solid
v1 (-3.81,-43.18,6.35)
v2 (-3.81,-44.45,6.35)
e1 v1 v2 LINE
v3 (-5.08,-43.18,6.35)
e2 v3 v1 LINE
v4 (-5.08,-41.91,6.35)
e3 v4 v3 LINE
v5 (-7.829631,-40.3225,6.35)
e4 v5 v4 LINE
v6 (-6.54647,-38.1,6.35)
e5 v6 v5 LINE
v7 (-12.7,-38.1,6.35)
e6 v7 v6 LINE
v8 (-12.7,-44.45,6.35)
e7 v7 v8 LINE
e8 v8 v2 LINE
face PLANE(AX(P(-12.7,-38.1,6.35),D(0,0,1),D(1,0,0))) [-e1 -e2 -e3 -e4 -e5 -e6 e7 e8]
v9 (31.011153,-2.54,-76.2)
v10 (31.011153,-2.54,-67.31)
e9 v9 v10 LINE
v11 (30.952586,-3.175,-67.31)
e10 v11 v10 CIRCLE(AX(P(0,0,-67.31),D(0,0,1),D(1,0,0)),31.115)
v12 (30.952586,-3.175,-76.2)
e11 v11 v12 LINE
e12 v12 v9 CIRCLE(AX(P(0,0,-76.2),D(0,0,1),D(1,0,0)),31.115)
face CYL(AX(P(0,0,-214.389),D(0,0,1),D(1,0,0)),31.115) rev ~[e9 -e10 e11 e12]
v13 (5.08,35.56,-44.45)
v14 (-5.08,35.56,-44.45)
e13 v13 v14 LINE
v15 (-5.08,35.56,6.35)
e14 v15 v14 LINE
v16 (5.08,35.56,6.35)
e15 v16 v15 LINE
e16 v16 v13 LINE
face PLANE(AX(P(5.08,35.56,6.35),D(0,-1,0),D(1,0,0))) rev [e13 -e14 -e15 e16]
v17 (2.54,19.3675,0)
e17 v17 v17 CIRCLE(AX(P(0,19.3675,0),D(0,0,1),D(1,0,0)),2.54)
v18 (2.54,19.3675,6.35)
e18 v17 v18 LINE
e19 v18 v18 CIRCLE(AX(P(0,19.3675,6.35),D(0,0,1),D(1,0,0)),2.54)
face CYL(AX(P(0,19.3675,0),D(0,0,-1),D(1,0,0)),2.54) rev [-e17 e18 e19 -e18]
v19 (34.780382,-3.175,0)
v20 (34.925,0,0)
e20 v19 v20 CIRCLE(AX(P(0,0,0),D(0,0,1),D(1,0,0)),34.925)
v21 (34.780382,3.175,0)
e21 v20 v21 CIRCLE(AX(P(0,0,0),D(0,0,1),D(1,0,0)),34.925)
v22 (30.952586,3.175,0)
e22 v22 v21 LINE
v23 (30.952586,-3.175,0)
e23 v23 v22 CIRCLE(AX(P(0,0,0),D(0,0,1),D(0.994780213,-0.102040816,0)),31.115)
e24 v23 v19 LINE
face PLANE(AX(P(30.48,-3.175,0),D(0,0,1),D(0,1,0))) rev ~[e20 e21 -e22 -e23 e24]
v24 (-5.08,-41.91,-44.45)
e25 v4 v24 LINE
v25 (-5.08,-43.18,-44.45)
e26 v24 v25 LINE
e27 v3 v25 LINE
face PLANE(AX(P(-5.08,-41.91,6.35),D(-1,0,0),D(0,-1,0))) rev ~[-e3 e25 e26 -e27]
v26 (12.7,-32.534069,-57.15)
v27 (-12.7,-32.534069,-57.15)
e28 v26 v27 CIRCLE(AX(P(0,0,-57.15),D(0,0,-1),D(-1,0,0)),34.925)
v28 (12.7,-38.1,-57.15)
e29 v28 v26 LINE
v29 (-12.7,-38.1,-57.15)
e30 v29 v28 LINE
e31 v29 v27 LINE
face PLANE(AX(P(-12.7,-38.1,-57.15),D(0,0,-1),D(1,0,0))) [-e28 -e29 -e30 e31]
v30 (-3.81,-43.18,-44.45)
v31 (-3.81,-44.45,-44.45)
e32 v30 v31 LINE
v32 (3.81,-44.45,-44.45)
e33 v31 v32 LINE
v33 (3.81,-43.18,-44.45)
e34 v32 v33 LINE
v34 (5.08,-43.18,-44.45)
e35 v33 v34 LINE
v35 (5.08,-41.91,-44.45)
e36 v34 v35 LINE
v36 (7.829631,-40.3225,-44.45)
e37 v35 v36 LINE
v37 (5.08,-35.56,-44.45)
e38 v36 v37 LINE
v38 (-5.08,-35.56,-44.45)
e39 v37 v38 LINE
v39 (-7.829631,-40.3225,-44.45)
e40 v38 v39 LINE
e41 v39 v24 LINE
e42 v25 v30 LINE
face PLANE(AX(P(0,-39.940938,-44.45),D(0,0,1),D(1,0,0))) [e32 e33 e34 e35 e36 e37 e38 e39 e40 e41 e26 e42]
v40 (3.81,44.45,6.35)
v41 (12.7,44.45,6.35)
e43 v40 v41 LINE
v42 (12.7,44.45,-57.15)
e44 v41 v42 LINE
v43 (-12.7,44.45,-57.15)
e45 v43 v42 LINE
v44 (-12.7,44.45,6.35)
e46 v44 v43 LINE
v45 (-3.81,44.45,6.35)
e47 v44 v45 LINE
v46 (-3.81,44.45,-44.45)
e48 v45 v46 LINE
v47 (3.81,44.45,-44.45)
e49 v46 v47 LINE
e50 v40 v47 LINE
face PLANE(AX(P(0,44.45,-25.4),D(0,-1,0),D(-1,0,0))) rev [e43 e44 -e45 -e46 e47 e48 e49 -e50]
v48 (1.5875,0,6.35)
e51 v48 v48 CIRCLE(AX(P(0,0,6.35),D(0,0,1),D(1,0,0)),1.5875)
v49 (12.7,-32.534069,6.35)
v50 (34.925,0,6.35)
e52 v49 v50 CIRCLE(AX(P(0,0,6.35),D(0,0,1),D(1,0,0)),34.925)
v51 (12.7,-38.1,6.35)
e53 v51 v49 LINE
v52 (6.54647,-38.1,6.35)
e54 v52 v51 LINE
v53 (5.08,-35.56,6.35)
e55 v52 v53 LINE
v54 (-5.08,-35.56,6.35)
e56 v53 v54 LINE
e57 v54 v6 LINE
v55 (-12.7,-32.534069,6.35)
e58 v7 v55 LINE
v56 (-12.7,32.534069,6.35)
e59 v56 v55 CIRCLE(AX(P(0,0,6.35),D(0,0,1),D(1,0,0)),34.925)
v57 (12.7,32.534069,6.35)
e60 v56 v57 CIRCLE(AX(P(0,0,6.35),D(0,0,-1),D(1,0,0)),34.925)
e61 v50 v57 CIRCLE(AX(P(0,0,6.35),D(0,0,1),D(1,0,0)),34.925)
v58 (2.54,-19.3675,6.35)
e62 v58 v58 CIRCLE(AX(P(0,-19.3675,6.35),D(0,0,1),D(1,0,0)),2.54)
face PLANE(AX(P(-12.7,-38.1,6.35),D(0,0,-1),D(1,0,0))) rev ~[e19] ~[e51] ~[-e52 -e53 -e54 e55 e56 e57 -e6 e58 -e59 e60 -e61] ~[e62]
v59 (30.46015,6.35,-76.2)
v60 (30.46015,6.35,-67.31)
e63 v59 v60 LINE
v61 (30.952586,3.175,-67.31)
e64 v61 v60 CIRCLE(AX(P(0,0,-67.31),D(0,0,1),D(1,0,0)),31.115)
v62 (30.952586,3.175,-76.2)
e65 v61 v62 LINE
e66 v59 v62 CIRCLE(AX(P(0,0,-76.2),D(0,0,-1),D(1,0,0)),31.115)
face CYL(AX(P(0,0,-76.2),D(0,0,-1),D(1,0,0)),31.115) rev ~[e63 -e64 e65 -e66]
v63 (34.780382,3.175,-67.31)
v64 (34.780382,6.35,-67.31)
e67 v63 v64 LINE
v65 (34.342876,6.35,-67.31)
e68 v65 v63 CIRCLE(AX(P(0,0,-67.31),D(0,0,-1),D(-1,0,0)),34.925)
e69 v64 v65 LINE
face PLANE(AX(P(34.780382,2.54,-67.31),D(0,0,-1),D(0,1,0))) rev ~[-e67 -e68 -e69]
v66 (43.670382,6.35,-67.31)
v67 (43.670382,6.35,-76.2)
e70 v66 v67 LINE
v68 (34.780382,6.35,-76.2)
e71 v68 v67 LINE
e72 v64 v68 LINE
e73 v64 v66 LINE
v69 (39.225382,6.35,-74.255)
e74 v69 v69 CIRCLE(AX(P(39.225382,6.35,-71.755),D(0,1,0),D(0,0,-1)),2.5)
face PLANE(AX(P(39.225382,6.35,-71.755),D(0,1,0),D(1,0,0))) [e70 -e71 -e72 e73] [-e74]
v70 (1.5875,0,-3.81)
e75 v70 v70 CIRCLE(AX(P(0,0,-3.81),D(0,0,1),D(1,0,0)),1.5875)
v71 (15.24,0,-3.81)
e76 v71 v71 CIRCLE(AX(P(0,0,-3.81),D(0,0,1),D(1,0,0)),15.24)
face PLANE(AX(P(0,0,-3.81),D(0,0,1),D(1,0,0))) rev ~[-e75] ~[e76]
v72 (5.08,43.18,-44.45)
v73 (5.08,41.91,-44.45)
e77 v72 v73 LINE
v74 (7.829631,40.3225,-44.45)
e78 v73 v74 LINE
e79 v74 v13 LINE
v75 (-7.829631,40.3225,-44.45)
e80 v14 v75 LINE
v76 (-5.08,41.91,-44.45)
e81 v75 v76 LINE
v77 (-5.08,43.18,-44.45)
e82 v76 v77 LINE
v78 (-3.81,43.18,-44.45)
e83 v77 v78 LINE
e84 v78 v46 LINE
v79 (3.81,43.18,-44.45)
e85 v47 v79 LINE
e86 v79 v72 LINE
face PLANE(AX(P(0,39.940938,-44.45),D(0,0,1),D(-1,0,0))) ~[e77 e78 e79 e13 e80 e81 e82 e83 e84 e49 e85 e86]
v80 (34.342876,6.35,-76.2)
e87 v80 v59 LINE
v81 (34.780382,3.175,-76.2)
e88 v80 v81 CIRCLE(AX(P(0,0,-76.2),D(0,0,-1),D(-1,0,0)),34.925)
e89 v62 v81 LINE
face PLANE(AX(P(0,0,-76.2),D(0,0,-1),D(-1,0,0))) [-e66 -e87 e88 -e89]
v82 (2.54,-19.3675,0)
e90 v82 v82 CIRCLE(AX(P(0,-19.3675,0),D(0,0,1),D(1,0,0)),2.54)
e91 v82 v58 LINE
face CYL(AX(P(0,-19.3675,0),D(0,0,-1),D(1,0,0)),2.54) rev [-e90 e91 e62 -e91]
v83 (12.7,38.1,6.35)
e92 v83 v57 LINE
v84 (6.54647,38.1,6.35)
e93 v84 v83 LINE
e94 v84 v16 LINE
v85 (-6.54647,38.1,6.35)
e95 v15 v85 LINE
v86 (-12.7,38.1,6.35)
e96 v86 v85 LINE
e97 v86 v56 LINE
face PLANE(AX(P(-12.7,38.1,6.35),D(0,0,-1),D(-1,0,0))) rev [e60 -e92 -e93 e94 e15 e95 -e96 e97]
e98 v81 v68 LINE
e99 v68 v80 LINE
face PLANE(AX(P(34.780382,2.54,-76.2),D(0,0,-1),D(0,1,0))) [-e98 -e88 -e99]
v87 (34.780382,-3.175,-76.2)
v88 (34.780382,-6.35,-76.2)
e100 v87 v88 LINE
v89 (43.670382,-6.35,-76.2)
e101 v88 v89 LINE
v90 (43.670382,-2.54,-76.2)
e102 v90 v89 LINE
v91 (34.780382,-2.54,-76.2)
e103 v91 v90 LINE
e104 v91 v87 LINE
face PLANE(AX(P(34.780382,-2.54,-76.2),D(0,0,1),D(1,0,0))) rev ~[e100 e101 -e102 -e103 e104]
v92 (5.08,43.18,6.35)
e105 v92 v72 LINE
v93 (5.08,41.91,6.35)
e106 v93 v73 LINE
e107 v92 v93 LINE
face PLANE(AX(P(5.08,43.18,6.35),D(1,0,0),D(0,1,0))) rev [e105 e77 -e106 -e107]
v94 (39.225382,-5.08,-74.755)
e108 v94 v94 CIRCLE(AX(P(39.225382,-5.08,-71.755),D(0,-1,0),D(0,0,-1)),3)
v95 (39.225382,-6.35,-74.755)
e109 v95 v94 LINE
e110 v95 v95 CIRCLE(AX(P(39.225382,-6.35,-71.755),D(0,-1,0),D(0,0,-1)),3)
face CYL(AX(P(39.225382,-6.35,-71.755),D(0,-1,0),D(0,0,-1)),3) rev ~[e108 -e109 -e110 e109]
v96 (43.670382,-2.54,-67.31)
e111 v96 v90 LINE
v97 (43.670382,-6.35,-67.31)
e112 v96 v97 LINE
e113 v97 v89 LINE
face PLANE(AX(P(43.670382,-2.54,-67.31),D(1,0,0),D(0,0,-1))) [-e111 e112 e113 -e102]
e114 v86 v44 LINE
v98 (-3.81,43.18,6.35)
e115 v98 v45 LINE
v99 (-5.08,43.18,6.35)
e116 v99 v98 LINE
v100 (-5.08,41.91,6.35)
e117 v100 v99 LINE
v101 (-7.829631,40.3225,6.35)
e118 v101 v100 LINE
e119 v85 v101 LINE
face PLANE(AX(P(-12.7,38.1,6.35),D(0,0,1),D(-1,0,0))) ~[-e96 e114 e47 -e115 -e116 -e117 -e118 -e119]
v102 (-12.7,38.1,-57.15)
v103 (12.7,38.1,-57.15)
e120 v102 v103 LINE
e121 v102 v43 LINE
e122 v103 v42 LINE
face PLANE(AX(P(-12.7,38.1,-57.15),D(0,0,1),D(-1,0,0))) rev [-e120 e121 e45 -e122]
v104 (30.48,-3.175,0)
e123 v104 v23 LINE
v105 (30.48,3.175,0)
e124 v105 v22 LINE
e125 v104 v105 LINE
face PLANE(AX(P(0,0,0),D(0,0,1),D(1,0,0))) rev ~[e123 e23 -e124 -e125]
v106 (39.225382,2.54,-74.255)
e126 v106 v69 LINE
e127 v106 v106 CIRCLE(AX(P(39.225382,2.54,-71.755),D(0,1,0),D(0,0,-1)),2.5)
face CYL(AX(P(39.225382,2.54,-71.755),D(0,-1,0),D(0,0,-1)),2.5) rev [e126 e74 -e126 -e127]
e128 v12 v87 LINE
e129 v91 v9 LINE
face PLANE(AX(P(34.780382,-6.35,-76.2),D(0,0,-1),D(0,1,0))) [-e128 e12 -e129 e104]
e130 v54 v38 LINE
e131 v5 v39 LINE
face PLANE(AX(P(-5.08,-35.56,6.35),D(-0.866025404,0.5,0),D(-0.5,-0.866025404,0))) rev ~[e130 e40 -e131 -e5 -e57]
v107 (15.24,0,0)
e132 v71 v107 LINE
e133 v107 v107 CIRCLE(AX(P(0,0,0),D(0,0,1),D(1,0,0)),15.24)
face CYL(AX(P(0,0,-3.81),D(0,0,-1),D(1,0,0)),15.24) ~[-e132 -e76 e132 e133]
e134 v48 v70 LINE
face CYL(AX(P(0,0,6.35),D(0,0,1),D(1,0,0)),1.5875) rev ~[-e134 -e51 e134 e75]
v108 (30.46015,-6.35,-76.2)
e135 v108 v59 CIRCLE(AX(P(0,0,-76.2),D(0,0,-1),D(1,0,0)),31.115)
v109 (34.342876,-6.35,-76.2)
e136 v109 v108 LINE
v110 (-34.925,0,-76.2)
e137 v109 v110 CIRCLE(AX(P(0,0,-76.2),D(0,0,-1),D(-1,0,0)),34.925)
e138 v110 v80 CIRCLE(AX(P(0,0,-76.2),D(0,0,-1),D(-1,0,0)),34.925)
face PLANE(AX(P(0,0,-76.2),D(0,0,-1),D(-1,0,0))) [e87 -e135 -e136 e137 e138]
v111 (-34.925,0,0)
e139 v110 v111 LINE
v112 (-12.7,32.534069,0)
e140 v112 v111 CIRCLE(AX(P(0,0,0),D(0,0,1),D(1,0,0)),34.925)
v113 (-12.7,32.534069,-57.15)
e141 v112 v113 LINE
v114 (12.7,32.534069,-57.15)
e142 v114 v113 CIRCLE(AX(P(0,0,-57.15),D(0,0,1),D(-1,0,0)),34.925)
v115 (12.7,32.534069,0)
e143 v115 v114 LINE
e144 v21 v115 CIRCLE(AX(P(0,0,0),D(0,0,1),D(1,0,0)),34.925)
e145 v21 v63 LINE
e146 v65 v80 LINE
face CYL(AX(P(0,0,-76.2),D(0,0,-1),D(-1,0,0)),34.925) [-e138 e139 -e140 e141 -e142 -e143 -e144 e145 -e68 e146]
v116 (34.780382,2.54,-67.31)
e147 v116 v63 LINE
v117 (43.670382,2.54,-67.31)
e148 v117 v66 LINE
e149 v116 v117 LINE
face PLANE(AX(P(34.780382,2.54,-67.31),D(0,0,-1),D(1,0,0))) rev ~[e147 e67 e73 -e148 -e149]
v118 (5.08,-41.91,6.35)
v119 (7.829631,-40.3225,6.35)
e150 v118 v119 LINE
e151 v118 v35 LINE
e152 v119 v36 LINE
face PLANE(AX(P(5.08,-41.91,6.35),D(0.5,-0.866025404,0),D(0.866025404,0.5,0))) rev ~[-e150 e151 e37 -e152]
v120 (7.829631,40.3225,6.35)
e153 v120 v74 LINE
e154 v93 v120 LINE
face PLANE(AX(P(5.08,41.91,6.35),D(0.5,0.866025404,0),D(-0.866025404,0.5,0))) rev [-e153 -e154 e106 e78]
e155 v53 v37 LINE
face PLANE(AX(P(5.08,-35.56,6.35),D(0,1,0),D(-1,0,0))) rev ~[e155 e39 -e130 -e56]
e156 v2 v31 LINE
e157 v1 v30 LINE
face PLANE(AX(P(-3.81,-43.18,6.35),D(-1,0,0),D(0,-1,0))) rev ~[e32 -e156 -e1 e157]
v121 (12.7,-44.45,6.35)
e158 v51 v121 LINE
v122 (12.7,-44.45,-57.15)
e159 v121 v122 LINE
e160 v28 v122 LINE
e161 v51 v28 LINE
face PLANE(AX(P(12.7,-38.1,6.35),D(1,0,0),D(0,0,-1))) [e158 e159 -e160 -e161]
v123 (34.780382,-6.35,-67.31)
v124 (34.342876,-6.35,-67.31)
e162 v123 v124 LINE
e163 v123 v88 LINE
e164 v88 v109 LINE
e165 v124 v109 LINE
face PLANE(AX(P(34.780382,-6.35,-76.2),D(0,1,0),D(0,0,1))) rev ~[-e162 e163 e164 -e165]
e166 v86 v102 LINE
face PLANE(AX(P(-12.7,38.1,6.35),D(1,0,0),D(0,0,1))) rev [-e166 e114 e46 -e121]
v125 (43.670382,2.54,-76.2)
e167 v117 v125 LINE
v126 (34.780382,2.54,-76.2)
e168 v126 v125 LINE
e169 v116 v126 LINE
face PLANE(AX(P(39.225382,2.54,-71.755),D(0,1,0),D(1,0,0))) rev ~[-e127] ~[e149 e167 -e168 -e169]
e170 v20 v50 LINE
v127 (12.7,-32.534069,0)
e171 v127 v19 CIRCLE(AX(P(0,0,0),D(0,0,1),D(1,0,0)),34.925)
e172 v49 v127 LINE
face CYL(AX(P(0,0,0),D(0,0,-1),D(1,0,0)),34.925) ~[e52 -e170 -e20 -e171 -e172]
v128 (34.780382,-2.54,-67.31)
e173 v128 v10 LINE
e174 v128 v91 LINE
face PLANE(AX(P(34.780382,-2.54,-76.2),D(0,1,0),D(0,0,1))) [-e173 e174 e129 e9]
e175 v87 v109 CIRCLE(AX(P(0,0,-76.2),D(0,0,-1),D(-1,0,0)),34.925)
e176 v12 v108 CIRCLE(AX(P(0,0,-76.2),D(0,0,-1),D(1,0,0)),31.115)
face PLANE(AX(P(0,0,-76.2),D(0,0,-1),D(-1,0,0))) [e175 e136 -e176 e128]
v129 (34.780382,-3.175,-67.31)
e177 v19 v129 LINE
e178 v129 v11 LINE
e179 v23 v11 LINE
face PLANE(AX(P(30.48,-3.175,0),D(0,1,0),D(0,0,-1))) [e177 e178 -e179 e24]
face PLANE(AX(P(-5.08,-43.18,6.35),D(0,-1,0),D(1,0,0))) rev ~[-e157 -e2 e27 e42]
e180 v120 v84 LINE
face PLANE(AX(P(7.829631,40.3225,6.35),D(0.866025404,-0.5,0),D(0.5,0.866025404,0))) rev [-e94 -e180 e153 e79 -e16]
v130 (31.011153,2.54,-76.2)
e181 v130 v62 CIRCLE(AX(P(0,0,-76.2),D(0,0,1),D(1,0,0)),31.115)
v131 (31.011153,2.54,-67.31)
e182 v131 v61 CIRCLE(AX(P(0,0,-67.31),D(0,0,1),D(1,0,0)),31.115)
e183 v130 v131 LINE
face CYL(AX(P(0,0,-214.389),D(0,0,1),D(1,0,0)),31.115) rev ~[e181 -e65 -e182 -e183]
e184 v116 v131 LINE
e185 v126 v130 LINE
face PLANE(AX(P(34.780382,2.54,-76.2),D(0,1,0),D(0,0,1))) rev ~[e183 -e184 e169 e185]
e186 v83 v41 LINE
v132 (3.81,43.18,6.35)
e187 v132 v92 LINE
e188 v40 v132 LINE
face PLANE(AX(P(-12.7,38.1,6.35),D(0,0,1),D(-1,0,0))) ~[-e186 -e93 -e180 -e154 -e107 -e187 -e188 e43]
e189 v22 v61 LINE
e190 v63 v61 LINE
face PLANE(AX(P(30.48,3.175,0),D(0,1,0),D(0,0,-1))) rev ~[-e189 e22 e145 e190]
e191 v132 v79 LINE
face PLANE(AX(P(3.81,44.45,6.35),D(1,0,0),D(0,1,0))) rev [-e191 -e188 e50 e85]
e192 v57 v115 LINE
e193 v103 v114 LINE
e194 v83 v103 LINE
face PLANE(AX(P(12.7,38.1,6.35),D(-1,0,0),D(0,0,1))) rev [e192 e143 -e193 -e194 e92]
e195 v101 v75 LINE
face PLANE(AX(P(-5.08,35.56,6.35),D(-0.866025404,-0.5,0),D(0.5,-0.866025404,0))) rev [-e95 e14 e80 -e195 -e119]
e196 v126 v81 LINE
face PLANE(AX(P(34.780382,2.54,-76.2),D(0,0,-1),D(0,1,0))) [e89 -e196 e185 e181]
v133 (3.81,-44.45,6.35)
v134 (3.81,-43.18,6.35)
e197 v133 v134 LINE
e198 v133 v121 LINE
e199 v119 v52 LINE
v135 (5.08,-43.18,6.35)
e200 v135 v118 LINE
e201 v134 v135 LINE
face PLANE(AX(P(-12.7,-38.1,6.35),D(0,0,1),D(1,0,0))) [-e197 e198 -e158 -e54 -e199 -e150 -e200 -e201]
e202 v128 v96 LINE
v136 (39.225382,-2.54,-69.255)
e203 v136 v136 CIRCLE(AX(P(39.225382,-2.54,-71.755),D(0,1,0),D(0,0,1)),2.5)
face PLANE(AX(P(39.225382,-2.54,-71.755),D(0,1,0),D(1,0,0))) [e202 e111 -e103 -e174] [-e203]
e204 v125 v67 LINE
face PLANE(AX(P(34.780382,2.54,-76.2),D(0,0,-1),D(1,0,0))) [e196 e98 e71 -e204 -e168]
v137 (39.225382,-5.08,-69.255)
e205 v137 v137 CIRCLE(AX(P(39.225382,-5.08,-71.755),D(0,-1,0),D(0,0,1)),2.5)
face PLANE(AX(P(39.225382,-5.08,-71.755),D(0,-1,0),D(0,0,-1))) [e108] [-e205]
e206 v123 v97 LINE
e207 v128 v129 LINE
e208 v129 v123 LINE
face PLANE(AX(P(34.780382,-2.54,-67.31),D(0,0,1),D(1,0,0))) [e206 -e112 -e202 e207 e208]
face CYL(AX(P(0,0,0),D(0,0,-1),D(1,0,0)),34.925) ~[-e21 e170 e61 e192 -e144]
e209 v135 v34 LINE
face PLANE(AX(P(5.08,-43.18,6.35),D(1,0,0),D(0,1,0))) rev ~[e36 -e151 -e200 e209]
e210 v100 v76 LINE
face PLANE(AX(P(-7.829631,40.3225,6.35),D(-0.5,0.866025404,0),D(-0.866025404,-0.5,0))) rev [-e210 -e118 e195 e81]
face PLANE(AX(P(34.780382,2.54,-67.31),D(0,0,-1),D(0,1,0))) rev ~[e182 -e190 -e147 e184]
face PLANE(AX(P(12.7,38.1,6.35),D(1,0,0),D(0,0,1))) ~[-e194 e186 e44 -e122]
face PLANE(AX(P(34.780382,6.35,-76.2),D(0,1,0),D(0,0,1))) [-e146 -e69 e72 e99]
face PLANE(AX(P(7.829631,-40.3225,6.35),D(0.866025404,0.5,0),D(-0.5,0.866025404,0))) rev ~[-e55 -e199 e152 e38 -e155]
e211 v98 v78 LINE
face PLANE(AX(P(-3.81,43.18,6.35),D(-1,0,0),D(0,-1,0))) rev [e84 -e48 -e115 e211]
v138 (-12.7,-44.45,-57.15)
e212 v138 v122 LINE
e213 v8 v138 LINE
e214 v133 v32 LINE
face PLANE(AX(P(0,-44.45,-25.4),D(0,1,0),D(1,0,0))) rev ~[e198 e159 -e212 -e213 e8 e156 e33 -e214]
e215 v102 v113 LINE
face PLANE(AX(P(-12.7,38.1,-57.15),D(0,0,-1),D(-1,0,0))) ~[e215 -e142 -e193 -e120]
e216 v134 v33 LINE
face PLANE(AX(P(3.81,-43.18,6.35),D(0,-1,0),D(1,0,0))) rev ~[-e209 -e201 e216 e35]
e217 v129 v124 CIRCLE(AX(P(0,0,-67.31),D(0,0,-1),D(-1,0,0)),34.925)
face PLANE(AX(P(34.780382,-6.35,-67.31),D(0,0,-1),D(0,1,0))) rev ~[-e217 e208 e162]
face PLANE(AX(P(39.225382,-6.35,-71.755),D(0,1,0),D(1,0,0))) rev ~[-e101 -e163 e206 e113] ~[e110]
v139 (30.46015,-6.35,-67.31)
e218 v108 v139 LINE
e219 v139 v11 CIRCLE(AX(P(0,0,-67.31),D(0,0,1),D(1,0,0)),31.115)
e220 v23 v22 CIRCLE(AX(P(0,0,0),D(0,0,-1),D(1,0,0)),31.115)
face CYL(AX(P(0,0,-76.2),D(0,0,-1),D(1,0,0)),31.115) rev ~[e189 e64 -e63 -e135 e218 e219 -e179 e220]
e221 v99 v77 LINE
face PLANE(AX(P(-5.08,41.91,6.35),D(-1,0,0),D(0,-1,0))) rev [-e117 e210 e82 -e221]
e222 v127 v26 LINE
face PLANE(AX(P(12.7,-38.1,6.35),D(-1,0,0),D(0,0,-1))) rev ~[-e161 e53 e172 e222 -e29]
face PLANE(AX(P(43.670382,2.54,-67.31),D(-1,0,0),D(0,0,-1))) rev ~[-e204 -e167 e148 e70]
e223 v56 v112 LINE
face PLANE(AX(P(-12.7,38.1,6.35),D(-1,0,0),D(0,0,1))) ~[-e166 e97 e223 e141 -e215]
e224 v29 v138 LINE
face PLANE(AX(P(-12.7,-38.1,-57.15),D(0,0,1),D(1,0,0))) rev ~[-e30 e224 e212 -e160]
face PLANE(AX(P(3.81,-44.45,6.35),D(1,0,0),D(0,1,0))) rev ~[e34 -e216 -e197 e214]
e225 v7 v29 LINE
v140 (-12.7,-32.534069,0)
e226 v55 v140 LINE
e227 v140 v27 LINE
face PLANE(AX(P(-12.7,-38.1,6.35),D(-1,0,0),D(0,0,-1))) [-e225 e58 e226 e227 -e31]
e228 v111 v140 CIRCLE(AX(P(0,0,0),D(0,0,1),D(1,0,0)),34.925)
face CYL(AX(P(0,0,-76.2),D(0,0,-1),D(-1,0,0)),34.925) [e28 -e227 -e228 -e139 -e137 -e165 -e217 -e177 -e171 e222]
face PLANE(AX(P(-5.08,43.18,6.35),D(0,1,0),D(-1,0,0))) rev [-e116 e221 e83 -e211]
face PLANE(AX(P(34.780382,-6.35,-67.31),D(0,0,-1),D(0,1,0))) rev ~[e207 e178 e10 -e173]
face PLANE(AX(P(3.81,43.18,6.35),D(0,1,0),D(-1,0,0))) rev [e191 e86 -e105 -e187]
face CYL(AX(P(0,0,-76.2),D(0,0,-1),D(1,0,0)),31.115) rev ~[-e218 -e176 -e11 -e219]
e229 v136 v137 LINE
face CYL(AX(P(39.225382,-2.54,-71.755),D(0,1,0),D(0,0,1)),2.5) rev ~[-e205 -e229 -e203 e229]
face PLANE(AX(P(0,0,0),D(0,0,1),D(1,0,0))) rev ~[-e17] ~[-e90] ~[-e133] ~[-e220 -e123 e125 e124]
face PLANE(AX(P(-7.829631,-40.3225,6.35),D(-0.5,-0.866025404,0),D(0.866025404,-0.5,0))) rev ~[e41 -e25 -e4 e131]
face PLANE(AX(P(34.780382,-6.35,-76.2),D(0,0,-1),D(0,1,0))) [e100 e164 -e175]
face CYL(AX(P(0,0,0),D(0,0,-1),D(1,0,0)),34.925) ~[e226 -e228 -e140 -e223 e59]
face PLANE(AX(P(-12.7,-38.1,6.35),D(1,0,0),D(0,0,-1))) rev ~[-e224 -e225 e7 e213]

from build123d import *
from build123d.topology import SkipClean

# Parameters (mm, degrees)
SKETCH1_R                       = 34.925
SKETCH1_R_2                     = 15.24
SKETCH1_R_3                     = 2.54
BOSS_EXTRUDE1_DEPTH             = 6.35
BOSS_EXTRUDE2_DEPTH             = 6.35
BOSS_EXTRUDE2_DEPTH_BACK        = 3.81
SKETCH1_2_R                     = 15.24
SKETCH3_R                       = 1.5875
CUT_EXTRUDE2_DEPTH              = 51.425557508
BOSS_EXTRUDE3_START             = 76.2
SKETCH4_R                       = 34.925
SKETCH4_R_2                     = 31.115
BOSS_EXTRUDE3_DEPTH             = 76.2
CUT_EXTRUDE3_START              = 30.48
SKETCH5_W                       = 76.2
SKETCH5_H                       = 6.35
CUT_EXTRUDE3_DEPTH              = 61.327220253
BOSS_EXTRUDE4_START             = 2.54
SKETCH6_W                       = 8.89
SKETCH6_H                       = 8.89
SKETCH6_R                       = 2.5
BOSS_EXTRUDE4_DEPTH             = 3.81
BOSS_EXTRUDE5_START             = -2.54
SKETCH6_2_W                     = 8.89
SKETCH6_2_H                     = 8.89
SKETCH6_2_R                     = 2.5
BOSS_EXTRUDE5_DEPTH             = 3.81
BOSS_EXTRUDE6_REACH             = 111.019
BOSS_EXTRUDE6_END_RADIUS        = 31.115
SKETCH8_W                       = 8.89
SKETCH8_H                       = 3.81
SKETCH9_R                       = 3
SKETCH9_R_2                     = 2.5
CUT_EXTRUDE4_DEPTH              = 1.27
BOSS_EXTRUDE7_REACH             = 116.22
SKETCH12_W                      = 25.4
SKETCH12_H                      = 63.5
BOSS_EXTRUDE7_DIRECTION_2_DEPTH = 6.35
CUT_EXTRUDE5_DEPTH              = 50.8


with BuildPart() as part:
    # Sketch1 → Boss-Extrude1 (new body)
    with BuildSketch(Plane.XY):
        Circle(SKETCH1_R)
        Circle(SKETCH1_R_2, mode=Mode.SUBTRACT)
        with Locations((0, 19.3675)):
            Circle(SKETCH1_R_3, mode=Mode.SUBTRACT)
        with Locations((0, -19.3675)):
            Circle(SKETCH1_R_3, mode=Mode.SUBTRACT)
    extrude(amount=BOSS_EXTRUDE1_DEPTH)

    # Sketch1<2> → Boss-Extrude2 (add, two sides: drawn at the far end of the back side and taken through both)
    with BuildSketch(Plane.XY.offset(-BOSS_EXTRUDE2_DEPTH_BACK)):
        Circle(SKETCH1_2_R)
    extrude(amount=BOSS_EXTRUDE2_DEPTH + BOSS_EXTRUDE2_DEPTH_BACK)

    # Sketch3 → Cut-Extrude2 (cut, through all)
    with BuildSketch(Plane.XY.offset(6.35)):
        Circle(SKETCH3_R)
    extrude(amount=-CUT_EXTRUDE2_DEPTH, mode=Mode.SUBTRACT)

    # Sketch4 → Boss-Extrude3 (add)
    with BuildSketch(Plane(origin=(0, 0, 0), x_dir=(-1, 0, 0), z_dir=(0, 0, -1)).offset(BOSS_EXTRUDE3_START)):
        Circle(SKETCH4_R)
        with Locations(Location((0, 0, 0), (0, 0, 180))):
            Circle(SKETCH4_R_2, mode=Mode.SUBTRACT)
    extrude(amount=-BOSS_EXTRUDE3_DEPTH)

    # Sketch5 → Cut-Extrude3 (cut, through all)
    with SkipClean():  # the faces are left unmerged after this step: merging them gives an invalid solid
        with BuildSketch(Plane(origin=(0, 0, 0), x_dir=(0, 0, -1), z_dir=(1, 0, 0)).offset(CUT_EXTRUDE3_START)):
            with Locations((38.1, 0)):
                Rectangle(SKETCH5_W, SKETCH5_H)
        extrude(amount=CUT_EXTRUDE3_DEPTH, mode=Mode.SUBTRACT)



with BuildPart() as body_2:
    # Sketch6 → Boss-Extrude4 (new body)
    with BuildSketch(Plane(origin=(0, 0, 0), x_dir=(1, 0, 0), z_dir=(0, 1, 0)).offset(BOSS_EXTRUDE4_START)):
        with Locations((39.225382402, 71.755)):
            Rectangle(SKETCH6_W, SKETCH6_H)
        with Locations(Location((39.225382402, 71.755, 0), (0, 0, 90))):
            Circle(SKETCH6_R, mode=Mode.SUBTRACT)
    extrude(amount=BOSS_EXTRUDE4_DEPTH)


with BuildPart() as body_3:
    # Sketch6<2> → Boss-Extrude5 (new body)
    with BuildSketch(Plane(origin=(0, 0, 0), x_dir=(1, 0, 0), z_dir=(0, 1, 0)).offset(BOSS_EXTRUDE5_START)):
        with Locations((39.225382402, 71.755)):
            Rectangle(SKETCH6_2_W, SKETCH6_2_H)
        with Locations(Location((39.225382402, 71.755, 0), (0, 0, 270))):
            Circle(SKETCH6_2_R, mode=Mode.SUBTRACT)
    extrude(amount=-BOSS_EXTRUDE5_DEPTH)


with BuildPart() as part_1:
    with SkipClean():  # the faces are left unmerged after this step: merging them gives an invalid solid
        add(part.part)

        add(body_2.part)  # Boss-Extrude6 merges body 2

        add(body_3.part)  # Boss-Extrude6 merges body 3
        # Boss-Extrude6: up to this cylinder (the profile starts outside it)
        boss_extrude6_end = Plane(origin=(0, 0, -71.755), z_dir=(0, 0, 1)) * Cylinder(BOSS_EXTRUDE6_END_RADIUS, 285.268, mode=Mode.PRIVATE)
        # Sketch8 → Boss-Extrude6 (add, up to the surface)
        with BuildSketch(Plane.ZY.offset(-34.780382402), mode=Mode.PRIVATE) as boss_extrude6_sk1:
            with Locations((-71.755, -4.445)):
                Rectangle(SKETCH8_W, SKETCH8_H)
        boss_extrude6_tool1 = extrude(boss_extrude6_sk1.sketch, amount=BOSS_EXTRUDE6_REACH, mode=Mode.PRIVATE) - boss_extrude6_end
        add(boss_extrude6_tool1.solids().sort_by_distance((34.780382, -4.445, -71.755))[0])
        # Sketch8 → Boss-Extrude6 (add, up to the surface)
        with BuildSketch(Plane.ZY.offset(-34.780382402), mode=Mode.PRIVATE) as boss_extrude6_sk2:
            with Locations((-71.755, 4.445)):
                Rectangle(SKETCH8_W, SKETCH8_H)
        boss_extrude6_tool2 = extrude(boss_extrude6_sk2.sketch, amount=BOSS_EXTRUDE6_REACH, mode=Mode.PRIVATE) - boss_extrude6_end
        add(boss_extrude6_tool2.solids().sort_by_distance((34.780382, 4.445, -71.755))[0])

    # Sketch9 → Cut-Extrude4 (cut)
    with SkipClean():  # the faces are left unmerged after this step: merging them gives an invalid solid
        with BuildSketch(Plane.XZ.offset(6.35)):
            with Locations(Location((39.225382402, -71.755, 0), (0, 0, 270))):
                Circle(SKETCH9_R)
            with Locations(Location((39.225382402, -71.755, 0), (0, 0, 90))):
                Circle(SKETCH9_R_2, mode=Mode.SUBTRACT)
        extrude(amount=-CUT_EXTRUDE4_DEPTH, mode=Mode.SUBTRACT)

    # Sketch12 → Boss-Extrude7 (add, up to next)
    with BuildSketch(Plane(origin=(0, -38.1, 0), x_dir=(1, 0, 0), z_dir=(0, 1, 0)), mode=Mode.PRIVATE) as boss_extrude7_sk1:
        with Locations((0, 25.4)):
            Rectangle(SKETCH12_W, SKETCH12_H)
    boss_extrude7_tool1 = extrude(boss_extrude7_sk1.sketch, amount=BOSS_EXTRUDE7_REACH, mode=Mode.PRIVATE) - part_1.part
    boss_extrude7 = boss_extrude7_tool1.solids().sort_by_distance((0, -38.1, -25.4))[0]
    add(boss_extrude7)

    # Sketch12 → Boss-Extrude7 direction 2 (add)
    with SkipClean():  # the faces are left unmerged after this step: merging them gives an invalid solid
        with BuildSketch(Plane(origin=(0, -38.1, 0), x_dir=(1, 0, 0), z_dir=(0, 1, 0))):
            with Locations((0, 25.4)):
                Rectangle(SKETCH12_W, SKETCH12_H)
        boss_extrude7_direction_2 = extrude(amount=-BOSS_EXTRUDE7_DIRECTION_2_DEPTH)

    # Sketch13 → Cut-Extrude5 (cut)
    with SkipClean():  # the faces are left unmerged after this step: merging them gives an invalid solid
        with BuildSketch(Plane.XY.offset(6.35)):
            Polygon((-3.81, -43.18), (-3.81, -44.45), (3.81, -44.45), (3.81, -43.18), (5.08, -43.18), (5.08, -41.91), (7.829630657, -40.3225), (5.08, -35.56), (-5.08, -35.56), (-7.829630657, -40.3225), (-5.08, -41.91), (-5.08, -43.18), align=None)
        cut_extrude5 = extrude(amount=-CUT_EXTRUDE5_DEPTH, mode=Mode.SUBTRACT)

    # Mirror1: Boss-Extrude7, Boss-Extrude7 direction 2, Cut-Extrude5 across plane
    with SkipClean():  # the faces are left unmerged after this step: merging them gives an invalid solid
        add(boss_extrude7.mirror(Plane.ZX))
        add(boss_extrude7_direction_2.mirror(Plane.ZX))
        add(cut_extrude5.mirror(Plane.ZX), mode=Mode.SUBTRACT)


solid = part_1.part
